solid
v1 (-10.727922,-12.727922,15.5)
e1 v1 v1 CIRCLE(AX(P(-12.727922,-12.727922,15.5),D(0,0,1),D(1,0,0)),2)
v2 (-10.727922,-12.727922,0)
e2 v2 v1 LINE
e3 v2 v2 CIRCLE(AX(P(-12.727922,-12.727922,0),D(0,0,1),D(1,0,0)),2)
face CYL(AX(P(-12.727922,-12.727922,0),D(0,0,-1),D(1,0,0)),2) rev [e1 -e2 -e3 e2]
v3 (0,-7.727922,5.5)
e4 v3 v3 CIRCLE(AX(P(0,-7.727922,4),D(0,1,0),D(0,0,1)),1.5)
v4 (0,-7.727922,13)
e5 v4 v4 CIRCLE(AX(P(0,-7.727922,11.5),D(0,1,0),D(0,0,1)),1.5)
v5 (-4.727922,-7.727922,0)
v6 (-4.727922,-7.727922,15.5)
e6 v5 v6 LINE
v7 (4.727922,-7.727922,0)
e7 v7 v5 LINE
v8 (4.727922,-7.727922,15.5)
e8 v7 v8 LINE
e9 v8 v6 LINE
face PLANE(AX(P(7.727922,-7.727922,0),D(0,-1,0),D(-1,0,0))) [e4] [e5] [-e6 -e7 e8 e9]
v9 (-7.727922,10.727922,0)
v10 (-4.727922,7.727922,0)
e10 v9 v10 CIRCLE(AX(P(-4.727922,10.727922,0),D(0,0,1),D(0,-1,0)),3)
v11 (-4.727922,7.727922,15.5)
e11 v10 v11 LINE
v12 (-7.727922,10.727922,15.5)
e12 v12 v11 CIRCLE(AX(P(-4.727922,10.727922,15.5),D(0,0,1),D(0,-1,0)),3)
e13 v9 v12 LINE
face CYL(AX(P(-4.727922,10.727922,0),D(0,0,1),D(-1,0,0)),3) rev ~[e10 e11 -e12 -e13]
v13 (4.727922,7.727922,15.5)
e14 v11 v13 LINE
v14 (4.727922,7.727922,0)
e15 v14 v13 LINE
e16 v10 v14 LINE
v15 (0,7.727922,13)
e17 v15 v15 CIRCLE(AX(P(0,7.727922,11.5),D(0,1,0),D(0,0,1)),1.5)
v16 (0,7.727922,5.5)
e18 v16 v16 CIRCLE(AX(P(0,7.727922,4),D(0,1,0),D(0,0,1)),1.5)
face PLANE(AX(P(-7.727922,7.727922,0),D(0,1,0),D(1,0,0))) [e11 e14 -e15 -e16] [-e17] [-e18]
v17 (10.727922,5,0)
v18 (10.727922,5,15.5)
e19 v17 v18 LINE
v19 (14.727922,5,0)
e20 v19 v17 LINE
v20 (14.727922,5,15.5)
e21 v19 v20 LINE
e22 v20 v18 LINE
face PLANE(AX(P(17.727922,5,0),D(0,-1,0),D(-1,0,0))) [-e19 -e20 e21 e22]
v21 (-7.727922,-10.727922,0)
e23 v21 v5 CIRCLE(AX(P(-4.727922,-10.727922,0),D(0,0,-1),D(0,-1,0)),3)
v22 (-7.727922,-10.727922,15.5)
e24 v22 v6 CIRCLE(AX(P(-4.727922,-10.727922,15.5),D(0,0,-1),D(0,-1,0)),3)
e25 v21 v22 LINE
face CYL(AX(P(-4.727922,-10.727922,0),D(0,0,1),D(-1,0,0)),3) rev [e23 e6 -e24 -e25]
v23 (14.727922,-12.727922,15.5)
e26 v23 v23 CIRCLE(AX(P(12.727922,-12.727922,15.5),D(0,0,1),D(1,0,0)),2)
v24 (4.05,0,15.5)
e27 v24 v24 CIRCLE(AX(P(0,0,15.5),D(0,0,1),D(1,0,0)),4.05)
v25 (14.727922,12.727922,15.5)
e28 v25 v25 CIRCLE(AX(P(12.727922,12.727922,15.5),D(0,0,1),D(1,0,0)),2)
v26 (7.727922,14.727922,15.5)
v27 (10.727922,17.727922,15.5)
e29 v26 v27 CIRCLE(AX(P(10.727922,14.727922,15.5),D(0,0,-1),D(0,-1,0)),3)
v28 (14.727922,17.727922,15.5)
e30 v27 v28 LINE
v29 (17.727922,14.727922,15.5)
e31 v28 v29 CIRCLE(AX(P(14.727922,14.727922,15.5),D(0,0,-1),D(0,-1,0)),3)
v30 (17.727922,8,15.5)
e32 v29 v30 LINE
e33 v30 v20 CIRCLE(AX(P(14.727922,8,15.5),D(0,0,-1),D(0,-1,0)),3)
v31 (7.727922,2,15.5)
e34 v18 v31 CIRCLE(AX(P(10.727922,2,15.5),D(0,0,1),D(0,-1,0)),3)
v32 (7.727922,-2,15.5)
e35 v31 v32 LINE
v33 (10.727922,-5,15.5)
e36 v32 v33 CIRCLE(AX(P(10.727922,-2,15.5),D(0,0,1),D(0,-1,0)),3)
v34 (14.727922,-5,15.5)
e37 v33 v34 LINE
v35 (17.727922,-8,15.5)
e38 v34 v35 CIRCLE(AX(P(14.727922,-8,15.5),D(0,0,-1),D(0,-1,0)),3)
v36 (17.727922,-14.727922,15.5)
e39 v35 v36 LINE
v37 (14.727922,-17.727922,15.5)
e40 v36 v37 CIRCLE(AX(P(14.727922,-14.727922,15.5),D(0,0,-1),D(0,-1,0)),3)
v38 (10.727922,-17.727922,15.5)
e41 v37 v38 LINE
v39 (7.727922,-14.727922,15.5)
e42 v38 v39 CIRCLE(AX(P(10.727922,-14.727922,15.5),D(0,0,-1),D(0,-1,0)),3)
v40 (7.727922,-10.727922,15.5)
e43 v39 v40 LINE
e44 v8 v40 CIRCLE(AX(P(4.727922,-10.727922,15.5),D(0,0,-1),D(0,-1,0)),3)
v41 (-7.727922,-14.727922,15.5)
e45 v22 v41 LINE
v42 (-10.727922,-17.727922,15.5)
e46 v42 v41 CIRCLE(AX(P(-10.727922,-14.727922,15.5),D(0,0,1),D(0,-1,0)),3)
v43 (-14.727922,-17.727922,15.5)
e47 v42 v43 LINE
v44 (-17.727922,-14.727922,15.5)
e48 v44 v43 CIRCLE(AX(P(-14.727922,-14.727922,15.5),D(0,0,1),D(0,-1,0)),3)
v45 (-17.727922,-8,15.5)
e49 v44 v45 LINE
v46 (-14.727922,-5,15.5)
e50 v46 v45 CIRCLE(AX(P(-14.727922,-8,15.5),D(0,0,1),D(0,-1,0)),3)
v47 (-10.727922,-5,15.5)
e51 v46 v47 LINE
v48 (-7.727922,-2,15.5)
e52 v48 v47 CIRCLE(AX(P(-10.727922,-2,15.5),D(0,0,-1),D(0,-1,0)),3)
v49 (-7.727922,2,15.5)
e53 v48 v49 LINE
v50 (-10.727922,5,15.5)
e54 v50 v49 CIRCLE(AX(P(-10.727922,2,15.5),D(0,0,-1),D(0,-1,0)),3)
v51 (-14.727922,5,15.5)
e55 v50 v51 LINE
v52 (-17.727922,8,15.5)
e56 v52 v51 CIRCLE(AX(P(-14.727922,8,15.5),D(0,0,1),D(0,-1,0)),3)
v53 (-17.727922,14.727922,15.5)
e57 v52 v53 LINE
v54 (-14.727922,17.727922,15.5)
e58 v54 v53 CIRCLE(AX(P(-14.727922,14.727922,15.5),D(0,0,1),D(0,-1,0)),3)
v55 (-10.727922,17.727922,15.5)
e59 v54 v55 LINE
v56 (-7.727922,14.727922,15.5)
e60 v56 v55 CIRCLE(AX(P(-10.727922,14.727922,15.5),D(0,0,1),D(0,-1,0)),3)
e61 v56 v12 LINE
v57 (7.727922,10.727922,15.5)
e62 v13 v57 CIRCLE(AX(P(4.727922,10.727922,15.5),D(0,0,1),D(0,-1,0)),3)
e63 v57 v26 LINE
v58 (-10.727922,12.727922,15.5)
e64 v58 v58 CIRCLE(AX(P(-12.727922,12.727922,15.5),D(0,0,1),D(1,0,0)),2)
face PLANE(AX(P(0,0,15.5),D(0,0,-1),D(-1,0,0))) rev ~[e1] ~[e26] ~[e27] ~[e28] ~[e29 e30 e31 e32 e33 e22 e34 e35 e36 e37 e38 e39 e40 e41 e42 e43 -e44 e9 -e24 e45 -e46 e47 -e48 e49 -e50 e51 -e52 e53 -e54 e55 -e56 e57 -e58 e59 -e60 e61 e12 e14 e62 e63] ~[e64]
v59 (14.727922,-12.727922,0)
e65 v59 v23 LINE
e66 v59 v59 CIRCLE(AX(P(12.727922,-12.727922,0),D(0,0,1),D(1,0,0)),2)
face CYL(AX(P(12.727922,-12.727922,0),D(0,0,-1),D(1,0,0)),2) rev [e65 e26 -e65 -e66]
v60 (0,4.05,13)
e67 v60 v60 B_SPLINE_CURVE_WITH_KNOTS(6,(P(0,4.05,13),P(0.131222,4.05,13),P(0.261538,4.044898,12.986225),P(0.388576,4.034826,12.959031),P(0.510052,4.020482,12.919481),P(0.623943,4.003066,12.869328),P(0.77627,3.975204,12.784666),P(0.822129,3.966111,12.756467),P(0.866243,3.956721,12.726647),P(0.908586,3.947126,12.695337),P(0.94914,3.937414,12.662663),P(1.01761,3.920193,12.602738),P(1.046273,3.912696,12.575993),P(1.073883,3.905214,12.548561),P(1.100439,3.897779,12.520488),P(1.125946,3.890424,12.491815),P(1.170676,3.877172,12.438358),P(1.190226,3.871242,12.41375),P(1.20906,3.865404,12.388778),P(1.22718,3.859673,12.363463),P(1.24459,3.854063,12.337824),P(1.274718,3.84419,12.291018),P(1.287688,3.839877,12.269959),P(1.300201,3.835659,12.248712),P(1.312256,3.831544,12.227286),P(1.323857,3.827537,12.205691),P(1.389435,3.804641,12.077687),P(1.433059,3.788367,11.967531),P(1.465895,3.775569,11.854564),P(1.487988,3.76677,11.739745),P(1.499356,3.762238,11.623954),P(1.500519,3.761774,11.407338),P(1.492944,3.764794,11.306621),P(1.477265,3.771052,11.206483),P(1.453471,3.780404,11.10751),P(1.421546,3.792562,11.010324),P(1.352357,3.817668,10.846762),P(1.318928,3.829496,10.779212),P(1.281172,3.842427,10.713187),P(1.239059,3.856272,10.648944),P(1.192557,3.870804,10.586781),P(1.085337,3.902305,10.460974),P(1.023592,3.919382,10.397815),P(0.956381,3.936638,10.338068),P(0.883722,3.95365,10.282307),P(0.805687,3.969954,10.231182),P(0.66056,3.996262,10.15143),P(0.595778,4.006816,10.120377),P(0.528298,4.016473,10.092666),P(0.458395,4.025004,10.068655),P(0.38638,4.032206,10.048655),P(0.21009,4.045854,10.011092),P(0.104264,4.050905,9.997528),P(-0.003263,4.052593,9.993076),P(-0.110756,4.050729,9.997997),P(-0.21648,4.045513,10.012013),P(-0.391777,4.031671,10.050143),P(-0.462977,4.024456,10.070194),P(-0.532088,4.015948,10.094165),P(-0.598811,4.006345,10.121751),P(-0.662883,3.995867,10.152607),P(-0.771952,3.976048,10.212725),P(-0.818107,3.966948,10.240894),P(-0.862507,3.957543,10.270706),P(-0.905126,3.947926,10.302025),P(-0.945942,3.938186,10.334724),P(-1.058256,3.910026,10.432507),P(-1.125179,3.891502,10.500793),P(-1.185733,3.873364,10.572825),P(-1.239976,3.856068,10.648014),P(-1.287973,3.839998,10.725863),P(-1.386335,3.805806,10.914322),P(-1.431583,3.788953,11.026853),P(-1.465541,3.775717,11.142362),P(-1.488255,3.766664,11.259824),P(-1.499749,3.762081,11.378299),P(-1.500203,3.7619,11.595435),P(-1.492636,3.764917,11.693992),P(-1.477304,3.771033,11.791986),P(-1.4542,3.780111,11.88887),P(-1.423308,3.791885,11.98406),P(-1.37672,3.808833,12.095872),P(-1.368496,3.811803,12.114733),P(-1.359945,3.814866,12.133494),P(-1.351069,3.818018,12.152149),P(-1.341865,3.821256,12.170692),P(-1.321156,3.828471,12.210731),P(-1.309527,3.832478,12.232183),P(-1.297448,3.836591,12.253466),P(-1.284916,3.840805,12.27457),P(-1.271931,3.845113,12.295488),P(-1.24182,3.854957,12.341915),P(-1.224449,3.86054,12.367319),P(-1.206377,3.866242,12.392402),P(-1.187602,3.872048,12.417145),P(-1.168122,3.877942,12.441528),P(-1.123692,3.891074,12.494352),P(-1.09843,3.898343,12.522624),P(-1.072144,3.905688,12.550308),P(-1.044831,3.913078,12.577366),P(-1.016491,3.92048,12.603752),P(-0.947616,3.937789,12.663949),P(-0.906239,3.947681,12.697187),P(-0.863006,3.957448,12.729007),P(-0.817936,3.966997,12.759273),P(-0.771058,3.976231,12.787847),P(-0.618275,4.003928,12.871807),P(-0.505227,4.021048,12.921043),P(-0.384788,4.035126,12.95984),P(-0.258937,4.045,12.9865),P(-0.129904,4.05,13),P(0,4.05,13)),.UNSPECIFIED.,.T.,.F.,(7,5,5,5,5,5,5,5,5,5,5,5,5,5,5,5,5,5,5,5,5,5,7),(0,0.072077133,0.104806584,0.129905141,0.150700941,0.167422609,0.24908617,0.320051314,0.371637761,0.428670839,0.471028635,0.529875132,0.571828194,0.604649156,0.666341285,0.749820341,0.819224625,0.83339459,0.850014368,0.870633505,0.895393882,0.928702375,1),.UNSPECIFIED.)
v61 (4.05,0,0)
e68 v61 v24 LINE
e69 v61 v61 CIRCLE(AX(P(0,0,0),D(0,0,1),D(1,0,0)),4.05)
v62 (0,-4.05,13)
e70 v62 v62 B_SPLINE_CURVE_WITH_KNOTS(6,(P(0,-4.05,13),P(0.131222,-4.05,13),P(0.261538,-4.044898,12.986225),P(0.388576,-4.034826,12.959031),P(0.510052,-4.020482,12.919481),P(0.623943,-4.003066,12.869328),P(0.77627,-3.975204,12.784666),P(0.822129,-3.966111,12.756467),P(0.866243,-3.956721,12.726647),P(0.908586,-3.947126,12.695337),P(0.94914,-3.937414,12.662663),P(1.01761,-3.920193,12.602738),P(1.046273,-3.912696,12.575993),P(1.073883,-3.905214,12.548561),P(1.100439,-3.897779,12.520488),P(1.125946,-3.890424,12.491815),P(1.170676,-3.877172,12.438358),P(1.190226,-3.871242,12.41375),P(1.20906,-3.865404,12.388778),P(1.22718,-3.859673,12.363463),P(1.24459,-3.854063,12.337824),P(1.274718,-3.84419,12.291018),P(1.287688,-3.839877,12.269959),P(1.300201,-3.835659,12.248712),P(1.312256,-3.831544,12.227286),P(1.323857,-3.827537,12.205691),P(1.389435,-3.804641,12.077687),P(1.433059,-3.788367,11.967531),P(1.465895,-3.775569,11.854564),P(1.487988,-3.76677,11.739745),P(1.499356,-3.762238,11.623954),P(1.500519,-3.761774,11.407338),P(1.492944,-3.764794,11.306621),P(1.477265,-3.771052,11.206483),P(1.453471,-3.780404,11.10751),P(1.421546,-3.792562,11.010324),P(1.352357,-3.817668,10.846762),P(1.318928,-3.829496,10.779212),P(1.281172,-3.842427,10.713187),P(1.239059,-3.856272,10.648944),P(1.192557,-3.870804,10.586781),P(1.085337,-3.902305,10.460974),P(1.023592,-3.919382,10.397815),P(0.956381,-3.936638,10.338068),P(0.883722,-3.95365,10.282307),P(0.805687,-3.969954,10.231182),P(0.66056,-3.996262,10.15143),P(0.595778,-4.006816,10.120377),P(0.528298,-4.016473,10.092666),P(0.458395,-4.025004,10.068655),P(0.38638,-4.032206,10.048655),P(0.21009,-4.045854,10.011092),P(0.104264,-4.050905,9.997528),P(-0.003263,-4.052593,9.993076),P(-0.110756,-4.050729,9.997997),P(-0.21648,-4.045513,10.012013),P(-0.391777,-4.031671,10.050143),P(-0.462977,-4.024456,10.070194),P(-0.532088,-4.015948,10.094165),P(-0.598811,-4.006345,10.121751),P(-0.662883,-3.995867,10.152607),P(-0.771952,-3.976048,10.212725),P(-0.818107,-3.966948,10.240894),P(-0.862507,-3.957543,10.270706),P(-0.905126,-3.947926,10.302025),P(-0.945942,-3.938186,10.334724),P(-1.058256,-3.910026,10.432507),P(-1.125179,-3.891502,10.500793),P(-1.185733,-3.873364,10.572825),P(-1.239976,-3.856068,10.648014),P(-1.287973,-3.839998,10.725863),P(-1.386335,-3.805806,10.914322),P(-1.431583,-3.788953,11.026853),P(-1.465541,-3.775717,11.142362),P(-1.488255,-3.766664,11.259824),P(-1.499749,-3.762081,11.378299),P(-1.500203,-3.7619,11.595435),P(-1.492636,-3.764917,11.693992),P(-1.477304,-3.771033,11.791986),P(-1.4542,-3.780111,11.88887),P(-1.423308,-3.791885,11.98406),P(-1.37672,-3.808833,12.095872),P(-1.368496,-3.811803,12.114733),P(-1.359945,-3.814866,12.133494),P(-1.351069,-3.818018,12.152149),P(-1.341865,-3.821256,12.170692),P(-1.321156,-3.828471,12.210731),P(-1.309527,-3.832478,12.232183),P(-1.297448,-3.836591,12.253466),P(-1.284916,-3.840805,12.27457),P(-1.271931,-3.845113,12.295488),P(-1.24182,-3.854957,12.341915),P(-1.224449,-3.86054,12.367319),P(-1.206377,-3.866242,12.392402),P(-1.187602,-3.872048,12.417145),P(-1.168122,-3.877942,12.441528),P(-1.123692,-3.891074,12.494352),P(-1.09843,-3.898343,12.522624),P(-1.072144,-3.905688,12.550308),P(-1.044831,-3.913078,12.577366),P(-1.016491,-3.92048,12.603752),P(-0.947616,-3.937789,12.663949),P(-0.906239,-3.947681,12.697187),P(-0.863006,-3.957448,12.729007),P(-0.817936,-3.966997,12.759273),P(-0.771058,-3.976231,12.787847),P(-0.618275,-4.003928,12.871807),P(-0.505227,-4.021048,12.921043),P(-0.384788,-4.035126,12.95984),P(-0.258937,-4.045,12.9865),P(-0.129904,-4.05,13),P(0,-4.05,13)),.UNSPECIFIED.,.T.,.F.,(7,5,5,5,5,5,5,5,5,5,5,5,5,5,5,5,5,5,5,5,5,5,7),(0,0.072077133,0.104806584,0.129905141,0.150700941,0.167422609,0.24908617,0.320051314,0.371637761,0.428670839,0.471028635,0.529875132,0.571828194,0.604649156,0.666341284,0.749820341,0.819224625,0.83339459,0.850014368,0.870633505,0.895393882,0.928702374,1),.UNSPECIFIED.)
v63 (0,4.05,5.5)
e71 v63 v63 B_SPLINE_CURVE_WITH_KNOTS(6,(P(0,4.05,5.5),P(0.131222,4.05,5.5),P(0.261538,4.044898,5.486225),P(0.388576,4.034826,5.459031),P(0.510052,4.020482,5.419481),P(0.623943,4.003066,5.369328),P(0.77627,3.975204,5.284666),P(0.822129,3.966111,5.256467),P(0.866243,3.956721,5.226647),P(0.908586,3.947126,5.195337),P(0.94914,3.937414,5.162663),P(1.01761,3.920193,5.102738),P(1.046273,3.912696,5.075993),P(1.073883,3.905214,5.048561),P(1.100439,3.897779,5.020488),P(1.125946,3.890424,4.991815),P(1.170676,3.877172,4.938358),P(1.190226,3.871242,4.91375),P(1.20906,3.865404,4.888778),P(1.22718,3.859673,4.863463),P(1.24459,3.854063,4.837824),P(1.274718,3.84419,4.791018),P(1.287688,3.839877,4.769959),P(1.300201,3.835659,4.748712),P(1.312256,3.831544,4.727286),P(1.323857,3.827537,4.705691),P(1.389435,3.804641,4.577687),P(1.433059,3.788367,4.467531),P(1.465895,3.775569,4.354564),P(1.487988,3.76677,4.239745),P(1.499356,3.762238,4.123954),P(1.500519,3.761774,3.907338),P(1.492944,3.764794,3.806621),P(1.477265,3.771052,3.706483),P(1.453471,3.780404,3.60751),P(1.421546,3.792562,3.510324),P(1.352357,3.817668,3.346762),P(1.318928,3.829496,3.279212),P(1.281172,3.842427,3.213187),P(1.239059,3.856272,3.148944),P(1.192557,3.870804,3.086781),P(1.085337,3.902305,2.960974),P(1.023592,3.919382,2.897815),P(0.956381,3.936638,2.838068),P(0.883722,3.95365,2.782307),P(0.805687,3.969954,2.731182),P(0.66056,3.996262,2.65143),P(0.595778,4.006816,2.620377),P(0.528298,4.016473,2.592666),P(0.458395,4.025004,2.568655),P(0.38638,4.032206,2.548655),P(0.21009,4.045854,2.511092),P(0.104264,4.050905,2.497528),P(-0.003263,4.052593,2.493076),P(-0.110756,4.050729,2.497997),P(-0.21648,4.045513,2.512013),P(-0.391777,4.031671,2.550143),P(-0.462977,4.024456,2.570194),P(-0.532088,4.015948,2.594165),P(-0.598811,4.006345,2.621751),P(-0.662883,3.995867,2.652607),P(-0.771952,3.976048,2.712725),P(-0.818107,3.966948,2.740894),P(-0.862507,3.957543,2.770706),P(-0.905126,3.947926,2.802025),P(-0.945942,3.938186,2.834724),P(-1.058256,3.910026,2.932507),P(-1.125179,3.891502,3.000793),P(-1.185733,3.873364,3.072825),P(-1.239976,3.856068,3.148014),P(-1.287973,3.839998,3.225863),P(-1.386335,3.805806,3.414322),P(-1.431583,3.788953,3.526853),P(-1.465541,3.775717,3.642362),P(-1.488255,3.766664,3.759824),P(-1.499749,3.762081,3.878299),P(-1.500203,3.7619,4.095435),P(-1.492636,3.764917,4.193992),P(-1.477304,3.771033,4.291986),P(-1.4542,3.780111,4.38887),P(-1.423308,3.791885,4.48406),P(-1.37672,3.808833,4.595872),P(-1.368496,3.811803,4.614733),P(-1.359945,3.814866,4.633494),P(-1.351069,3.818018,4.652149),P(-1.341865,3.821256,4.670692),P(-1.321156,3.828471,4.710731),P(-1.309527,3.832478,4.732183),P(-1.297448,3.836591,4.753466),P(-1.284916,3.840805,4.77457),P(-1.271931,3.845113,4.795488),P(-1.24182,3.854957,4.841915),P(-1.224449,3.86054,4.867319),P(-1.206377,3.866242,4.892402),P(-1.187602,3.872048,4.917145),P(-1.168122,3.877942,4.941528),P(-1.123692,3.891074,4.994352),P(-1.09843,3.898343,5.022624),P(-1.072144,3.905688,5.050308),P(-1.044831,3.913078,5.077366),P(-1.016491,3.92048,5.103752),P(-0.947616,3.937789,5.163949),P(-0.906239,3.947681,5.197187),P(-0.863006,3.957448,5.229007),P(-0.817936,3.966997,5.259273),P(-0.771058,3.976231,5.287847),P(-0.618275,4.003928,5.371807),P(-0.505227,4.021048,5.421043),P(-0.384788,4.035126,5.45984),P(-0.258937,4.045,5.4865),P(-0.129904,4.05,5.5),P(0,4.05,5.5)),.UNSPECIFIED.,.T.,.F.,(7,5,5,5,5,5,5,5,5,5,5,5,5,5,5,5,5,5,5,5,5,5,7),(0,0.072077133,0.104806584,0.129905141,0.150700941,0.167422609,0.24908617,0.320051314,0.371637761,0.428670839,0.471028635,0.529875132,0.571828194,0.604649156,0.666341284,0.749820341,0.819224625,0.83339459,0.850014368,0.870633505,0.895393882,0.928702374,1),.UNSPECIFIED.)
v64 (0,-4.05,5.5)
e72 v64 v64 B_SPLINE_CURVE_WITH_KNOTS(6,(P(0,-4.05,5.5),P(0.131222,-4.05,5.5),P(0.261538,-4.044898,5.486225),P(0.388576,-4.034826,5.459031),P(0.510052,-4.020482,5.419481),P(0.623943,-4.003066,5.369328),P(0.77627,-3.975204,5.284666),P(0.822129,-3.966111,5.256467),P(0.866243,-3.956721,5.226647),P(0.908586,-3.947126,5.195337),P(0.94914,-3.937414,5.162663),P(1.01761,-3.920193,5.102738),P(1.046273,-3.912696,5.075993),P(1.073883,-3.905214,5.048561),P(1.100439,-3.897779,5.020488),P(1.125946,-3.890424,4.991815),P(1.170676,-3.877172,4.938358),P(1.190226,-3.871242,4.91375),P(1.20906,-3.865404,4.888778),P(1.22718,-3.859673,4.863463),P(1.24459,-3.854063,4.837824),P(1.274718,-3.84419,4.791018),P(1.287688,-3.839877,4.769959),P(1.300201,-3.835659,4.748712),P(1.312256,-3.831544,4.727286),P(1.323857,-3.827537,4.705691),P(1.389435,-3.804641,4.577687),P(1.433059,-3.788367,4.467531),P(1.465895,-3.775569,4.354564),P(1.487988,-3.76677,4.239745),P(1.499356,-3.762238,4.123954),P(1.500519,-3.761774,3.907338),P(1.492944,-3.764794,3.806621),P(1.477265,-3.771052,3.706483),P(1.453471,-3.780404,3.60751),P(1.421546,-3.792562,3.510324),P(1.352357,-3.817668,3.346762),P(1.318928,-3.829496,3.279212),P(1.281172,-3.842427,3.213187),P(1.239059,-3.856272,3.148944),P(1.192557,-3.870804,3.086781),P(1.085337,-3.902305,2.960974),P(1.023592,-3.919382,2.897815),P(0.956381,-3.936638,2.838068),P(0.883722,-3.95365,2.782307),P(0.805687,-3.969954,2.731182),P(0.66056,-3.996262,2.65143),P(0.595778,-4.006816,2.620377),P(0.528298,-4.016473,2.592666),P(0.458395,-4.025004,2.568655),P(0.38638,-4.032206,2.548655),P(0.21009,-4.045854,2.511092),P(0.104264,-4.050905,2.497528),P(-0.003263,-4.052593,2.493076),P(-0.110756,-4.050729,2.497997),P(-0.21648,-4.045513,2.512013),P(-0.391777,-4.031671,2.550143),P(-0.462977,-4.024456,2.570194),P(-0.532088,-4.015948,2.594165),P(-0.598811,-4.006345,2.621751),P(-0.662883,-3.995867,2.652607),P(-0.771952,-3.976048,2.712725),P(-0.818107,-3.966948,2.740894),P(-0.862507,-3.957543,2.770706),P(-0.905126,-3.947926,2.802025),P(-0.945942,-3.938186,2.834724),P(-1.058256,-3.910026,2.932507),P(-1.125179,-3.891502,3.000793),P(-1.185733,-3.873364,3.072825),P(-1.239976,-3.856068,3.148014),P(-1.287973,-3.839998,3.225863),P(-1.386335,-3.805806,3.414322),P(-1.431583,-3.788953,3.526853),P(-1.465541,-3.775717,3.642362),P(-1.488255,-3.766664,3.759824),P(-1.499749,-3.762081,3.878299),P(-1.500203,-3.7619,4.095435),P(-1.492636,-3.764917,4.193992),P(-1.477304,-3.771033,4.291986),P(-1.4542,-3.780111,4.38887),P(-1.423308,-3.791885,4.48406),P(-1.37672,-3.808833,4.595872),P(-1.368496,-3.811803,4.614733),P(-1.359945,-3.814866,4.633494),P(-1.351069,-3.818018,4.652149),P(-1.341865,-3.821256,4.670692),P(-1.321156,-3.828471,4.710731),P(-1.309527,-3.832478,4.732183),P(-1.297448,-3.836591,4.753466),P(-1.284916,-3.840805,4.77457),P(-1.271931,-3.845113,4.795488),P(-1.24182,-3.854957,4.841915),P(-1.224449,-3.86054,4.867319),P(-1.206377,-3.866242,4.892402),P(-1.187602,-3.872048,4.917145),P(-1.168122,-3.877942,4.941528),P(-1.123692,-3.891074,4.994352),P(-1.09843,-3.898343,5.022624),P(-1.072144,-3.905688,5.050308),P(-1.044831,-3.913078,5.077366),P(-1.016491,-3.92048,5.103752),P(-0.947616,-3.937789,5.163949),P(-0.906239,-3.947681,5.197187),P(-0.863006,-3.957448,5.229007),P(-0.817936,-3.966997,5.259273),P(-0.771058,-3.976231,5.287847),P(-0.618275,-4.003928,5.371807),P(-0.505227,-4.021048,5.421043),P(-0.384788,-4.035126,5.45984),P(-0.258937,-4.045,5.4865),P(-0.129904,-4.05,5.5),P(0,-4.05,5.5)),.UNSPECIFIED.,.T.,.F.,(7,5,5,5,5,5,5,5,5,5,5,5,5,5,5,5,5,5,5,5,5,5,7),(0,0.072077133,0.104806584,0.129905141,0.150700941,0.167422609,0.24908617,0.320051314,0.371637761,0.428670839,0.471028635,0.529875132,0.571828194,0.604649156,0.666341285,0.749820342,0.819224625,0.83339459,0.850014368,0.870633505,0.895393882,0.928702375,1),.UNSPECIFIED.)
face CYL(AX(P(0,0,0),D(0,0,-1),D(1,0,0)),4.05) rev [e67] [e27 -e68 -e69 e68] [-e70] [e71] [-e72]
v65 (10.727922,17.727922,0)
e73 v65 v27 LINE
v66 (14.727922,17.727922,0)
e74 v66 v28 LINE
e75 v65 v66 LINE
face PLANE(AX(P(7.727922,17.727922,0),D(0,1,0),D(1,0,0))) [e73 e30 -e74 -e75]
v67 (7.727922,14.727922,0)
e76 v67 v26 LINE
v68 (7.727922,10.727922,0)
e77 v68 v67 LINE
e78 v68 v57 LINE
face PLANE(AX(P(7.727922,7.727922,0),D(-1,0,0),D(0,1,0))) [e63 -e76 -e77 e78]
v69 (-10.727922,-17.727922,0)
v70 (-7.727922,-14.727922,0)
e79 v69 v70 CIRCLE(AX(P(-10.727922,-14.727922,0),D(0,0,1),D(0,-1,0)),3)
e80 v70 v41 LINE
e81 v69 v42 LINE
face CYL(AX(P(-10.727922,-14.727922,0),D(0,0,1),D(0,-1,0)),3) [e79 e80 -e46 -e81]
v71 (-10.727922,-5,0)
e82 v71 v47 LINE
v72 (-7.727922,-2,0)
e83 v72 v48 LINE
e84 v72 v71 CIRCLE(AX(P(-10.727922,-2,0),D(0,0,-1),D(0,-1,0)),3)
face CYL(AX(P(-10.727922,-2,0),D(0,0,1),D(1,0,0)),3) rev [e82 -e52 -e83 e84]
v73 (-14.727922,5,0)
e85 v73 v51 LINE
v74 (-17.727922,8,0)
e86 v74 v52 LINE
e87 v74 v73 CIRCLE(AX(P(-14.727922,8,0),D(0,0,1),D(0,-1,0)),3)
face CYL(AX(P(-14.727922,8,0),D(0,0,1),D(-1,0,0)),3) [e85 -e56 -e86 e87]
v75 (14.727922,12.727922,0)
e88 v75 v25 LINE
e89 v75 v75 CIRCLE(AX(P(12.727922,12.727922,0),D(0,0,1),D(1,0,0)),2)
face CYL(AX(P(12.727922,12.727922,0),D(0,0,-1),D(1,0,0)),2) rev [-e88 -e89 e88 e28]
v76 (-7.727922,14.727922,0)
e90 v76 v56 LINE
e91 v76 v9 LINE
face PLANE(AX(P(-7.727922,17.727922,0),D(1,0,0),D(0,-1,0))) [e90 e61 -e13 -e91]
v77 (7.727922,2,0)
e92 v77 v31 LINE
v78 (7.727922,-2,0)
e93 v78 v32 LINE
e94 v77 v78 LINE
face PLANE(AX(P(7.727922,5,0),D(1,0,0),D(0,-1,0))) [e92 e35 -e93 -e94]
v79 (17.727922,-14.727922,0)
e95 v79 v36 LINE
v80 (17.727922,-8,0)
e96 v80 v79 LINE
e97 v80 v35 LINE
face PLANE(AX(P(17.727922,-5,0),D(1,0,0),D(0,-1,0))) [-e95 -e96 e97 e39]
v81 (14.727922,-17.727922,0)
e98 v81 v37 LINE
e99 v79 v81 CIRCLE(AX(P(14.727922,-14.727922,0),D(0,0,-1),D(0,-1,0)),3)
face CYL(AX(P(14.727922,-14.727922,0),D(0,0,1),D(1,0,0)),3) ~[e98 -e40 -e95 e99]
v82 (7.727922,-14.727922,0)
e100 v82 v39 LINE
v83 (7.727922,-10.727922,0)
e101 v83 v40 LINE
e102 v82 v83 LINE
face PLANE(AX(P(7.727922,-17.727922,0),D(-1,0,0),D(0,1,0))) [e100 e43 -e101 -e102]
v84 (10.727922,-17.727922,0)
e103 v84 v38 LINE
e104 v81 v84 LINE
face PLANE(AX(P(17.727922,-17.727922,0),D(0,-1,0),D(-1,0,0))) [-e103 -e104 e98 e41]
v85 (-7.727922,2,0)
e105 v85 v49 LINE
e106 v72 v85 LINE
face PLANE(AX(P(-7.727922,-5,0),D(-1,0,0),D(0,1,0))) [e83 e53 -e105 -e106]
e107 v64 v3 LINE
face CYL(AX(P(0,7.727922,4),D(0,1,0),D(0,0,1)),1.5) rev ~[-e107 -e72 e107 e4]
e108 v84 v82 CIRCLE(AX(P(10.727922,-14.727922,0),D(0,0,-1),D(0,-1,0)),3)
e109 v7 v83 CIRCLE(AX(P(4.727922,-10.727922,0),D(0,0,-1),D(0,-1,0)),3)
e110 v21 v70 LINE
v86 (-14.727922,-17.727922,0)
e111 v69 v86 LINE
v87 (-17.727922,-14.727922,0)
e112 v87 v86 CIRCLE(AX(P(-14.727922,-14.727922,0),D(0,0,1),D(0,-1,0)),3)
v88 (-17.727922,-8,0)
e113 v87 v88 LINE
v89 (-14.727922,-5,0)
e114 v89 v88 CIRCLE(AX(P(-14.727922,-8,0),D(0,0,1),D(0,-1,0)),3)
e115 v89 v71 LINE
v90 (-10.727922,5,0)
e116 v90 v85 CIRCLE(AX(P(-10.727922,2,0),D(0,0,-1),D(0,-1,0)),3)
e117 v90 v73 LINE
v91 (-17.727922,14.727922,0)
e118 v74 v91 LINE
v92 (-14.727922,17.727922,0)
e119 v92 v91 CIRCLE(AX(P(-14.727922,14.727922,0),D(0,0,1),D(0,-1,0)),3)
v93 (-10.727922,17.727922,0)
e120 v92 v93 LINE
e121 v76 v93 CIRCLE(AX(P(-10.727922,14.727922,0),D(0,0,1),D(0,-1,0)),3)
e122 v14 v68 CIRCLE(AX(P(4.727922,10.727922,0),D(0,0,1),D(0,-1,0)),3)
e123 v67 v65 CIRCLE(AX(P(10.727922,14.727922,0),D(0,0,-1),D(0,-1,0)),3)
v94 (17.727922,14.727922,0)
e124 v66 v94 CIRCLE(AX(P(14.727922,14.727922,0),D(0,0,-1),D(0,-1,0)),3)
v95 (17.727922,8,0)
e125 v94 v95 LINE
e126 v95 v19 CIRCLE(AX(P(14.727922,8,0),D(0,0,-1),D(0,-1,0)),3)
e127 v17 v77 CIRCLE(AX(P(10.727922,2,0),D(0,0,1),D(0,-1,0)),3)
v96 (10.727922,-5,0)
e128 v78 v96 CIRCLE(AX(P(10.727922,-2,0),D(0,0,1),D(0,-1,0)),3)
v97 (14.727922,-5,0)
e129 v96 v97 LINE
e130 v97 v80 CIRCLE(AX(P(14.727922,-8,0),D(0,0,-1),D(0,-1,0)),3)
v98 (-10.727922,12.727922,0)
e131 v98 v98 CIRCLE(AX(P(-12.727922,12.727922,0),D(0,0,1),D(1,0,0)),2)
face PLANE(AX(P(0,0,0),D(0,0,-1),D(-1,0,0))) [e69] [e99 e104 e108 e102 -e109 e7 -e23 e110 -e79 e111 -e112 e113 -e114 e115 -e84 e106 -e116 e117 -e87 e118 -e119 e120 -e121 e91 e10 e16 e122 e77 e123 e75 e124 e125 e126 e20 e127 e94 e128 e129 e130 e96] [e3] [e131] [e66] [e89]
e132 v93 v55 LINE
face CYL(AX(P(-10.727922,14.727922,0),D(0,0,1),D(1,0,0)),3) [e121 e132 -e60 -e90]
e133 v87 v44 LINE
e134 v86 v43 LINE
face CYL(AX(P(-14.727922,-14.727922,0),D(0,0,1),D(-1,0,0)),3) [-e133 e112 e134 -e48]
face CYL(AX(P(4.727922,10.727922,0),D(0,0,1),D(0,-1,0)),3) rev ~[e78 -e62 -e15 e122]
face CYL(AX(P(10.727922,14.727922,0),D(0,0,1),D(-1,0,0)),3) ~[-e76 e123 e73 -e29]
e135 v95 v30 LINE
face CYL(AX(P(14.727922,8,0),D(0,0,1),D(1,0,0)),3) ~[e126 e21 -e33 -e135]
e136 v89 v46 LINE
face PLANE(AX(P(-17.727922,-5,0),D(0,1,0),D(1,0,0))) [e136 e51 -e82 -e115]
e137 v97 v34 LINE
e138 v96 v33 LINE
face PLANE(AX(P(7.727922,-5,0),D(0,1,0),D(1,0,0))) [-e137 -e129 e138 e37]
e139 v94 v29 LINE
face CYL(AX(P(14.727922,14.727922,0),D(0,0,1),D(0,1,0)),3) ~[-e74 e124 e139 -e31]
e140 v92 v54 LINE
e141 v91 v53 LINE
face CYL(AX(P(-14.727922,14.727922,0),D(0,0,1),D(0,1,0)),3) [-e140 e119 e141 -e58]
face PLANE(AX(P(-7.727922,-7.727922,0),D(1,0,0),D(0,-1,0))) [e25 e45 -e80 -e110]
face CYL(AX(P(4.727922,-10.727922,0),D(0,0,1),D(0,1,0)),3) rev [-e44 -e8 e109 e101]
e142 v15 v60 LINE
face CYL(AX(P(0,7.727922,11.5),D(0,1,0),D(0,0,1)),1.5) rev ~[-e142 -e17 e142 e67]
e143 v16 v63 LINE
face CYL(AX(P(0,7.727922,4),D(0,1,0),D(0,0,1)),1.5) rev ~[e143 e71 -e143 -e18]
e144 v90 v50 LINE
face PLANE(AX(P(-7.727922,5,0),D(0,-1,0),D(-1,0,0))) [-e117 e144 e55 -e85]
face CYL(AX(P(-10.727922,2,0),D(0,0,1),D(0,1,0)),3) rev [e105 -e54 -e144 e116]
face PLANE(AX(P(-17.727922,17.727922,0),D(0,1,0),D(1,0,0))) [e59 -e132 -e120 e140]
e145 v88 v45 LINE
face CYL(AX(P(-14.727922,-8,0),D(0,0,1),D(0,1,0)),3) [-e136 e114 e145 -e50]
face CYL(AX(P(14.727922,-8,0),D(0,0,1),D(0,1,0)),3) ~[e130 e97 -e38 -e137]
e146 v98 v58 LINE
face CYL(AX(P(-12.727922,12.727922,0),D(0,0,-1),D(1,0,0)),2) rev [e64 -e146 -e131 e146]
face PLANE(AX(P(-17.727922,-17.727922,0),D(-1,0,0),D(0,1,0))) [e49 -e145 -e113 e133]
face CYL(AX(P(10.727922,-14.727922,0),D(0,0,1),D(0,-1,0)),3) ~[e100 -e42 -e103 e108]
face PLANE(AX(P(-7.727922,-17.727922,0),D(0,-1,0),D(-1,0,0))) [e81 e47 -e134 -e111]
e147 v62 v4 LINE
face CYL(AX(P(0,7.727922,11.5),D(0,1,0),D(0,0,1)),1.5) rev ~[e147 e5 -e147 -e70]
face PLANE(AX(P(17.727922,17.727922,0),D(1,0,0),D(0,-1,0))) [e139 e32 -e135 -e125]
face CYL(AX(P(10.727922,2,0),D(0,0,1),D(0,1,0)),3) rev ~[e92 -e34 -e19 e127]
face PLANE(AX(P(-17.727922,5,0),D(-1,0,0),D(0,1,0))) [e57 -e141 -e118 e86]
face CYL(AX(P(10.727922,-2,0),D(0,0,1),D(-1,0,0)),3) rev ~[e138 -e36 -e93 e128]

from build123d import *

# Parameters (mm, degrees)
SKETCH_1_R          = 2
SKETCH_1_R_2        = 4.05
EXTRUDE_1_DEPTH     = 15.5
FILLET_3_R          = 3
SKETCH_3_R          = 1.5
CUT_EXTRUDE_2_DEPTH = 35.677503091


with BuildPart() as part:
    # ｽｹｯﾁ1 → ﾎﾞｽ - 押し出し1 (new body)
    with BuildSketch(Plane.XY):
        Polygon((-7.727922061, 17.727922061), (-7.727922061, 7.727922061), (7.727922061, 7.727922061), (7.727922061, 17.727922061), (17.727922061, 17.727922061), (17.727922061, 5), (7.727922061, 5), (7.727922061, -5), (17.727922061, -5), (17.727922061, -17.727922061), (7.727922061, -17.727922061), (7.727922061, -7.727922061), (-7.727922061, -7.727922061), (-7.727922061, -17.727922061), (-17.727922061, -17.727922061), (-17.727922061, -5), (-7.727922061, -5), (-7.727922061, 5), (-17.727922061, 5), (-17.727922061, 17.727922061), align=None)
        with Locations((-12.727922061, 12.727922061)):
            Circle(SKETCH_1_R, mode=Mode.SUBTRACT)
        with Locations((12.727922061, 12.727922061)):
            Circle(SKETCH_1_R, mode=Mode.SUBTRACT)
        with Locations((12.727922061, -12.727922061)):
            Circle(SKETCH_1_R, mode=Mode.SUBTRACT)
        with Locations((-12.727922061, -12.727922061)):
            Circle(SKETCH_1_R, mode=Mode.SUBTRACT)
        Circle(SKETCH_1_R_2, mode=Mode.SUBTRACT)
    extrude(amount=EXTRUDE_1_DEPTH)

    # ﾌｨﾚｯﾄ3
    fillet_3_edges = [part.edges().sort_by_distance(p)[0] for p in [
        (-17.727922061, 17.727922061, 7.75),
        (-7.727922061, 17.727922061, 7.75),
        (-7.727922061, 7.727922061, 7.75),
        (7.727922061, 7.727922061, 7.75),
        (7.727922061, 17.727922061, 7.75),
        (17.727922061, 17.727922061, 7.75),
        (17.727922061, 5, 7.75),
        (7.727922061, 5, 7.75),
        (7.727922061, -5, 7.75),
        (17.727922061, -5, 7.75),
        (17.727922061, -17.727922061, 7.75),
        (7.727922061, -17.727922061, 7.75),
        (7.727922061, -7.727922061, 7.75),
        (-7.727922061, -7.727922061, 7.75),
        (-7.727922061, -17.727922061, 7.75),
        (-17.727922061, -17.727922061, 7.75),
        (-17.727922061, -5, 7.75),
        (-7.727922061, -5, 7.75),
        (-7.727922061, 5, 7.75),
        (-17.727922061, 5, 7.75),
    ]]
    fillet(fillet_3_edges, radius=FILLET_3_R)

    # ｽｹｯﾁ3 → ｶｯﾄ - 押し出し2 (cut, through all)
    with BuildSketch(Plane(origin=(0, 7.727922061, 0), x_dir=(1, 0, 0), z_dir=(0, 1, 0))):
        with Locations(Location((0, -4, 0), (0, 0, 270))):
            Circle(SKETCH_3_R)
        with Locations(Location((0, -11.5, 0), (0, 0, 270))):
            Circle(SKETCH_3_R)
    extrude(amount=-CUT_EXTRUDE_2_DEPTH, mode=Mode.SUBTRACT)


solid = part.part
